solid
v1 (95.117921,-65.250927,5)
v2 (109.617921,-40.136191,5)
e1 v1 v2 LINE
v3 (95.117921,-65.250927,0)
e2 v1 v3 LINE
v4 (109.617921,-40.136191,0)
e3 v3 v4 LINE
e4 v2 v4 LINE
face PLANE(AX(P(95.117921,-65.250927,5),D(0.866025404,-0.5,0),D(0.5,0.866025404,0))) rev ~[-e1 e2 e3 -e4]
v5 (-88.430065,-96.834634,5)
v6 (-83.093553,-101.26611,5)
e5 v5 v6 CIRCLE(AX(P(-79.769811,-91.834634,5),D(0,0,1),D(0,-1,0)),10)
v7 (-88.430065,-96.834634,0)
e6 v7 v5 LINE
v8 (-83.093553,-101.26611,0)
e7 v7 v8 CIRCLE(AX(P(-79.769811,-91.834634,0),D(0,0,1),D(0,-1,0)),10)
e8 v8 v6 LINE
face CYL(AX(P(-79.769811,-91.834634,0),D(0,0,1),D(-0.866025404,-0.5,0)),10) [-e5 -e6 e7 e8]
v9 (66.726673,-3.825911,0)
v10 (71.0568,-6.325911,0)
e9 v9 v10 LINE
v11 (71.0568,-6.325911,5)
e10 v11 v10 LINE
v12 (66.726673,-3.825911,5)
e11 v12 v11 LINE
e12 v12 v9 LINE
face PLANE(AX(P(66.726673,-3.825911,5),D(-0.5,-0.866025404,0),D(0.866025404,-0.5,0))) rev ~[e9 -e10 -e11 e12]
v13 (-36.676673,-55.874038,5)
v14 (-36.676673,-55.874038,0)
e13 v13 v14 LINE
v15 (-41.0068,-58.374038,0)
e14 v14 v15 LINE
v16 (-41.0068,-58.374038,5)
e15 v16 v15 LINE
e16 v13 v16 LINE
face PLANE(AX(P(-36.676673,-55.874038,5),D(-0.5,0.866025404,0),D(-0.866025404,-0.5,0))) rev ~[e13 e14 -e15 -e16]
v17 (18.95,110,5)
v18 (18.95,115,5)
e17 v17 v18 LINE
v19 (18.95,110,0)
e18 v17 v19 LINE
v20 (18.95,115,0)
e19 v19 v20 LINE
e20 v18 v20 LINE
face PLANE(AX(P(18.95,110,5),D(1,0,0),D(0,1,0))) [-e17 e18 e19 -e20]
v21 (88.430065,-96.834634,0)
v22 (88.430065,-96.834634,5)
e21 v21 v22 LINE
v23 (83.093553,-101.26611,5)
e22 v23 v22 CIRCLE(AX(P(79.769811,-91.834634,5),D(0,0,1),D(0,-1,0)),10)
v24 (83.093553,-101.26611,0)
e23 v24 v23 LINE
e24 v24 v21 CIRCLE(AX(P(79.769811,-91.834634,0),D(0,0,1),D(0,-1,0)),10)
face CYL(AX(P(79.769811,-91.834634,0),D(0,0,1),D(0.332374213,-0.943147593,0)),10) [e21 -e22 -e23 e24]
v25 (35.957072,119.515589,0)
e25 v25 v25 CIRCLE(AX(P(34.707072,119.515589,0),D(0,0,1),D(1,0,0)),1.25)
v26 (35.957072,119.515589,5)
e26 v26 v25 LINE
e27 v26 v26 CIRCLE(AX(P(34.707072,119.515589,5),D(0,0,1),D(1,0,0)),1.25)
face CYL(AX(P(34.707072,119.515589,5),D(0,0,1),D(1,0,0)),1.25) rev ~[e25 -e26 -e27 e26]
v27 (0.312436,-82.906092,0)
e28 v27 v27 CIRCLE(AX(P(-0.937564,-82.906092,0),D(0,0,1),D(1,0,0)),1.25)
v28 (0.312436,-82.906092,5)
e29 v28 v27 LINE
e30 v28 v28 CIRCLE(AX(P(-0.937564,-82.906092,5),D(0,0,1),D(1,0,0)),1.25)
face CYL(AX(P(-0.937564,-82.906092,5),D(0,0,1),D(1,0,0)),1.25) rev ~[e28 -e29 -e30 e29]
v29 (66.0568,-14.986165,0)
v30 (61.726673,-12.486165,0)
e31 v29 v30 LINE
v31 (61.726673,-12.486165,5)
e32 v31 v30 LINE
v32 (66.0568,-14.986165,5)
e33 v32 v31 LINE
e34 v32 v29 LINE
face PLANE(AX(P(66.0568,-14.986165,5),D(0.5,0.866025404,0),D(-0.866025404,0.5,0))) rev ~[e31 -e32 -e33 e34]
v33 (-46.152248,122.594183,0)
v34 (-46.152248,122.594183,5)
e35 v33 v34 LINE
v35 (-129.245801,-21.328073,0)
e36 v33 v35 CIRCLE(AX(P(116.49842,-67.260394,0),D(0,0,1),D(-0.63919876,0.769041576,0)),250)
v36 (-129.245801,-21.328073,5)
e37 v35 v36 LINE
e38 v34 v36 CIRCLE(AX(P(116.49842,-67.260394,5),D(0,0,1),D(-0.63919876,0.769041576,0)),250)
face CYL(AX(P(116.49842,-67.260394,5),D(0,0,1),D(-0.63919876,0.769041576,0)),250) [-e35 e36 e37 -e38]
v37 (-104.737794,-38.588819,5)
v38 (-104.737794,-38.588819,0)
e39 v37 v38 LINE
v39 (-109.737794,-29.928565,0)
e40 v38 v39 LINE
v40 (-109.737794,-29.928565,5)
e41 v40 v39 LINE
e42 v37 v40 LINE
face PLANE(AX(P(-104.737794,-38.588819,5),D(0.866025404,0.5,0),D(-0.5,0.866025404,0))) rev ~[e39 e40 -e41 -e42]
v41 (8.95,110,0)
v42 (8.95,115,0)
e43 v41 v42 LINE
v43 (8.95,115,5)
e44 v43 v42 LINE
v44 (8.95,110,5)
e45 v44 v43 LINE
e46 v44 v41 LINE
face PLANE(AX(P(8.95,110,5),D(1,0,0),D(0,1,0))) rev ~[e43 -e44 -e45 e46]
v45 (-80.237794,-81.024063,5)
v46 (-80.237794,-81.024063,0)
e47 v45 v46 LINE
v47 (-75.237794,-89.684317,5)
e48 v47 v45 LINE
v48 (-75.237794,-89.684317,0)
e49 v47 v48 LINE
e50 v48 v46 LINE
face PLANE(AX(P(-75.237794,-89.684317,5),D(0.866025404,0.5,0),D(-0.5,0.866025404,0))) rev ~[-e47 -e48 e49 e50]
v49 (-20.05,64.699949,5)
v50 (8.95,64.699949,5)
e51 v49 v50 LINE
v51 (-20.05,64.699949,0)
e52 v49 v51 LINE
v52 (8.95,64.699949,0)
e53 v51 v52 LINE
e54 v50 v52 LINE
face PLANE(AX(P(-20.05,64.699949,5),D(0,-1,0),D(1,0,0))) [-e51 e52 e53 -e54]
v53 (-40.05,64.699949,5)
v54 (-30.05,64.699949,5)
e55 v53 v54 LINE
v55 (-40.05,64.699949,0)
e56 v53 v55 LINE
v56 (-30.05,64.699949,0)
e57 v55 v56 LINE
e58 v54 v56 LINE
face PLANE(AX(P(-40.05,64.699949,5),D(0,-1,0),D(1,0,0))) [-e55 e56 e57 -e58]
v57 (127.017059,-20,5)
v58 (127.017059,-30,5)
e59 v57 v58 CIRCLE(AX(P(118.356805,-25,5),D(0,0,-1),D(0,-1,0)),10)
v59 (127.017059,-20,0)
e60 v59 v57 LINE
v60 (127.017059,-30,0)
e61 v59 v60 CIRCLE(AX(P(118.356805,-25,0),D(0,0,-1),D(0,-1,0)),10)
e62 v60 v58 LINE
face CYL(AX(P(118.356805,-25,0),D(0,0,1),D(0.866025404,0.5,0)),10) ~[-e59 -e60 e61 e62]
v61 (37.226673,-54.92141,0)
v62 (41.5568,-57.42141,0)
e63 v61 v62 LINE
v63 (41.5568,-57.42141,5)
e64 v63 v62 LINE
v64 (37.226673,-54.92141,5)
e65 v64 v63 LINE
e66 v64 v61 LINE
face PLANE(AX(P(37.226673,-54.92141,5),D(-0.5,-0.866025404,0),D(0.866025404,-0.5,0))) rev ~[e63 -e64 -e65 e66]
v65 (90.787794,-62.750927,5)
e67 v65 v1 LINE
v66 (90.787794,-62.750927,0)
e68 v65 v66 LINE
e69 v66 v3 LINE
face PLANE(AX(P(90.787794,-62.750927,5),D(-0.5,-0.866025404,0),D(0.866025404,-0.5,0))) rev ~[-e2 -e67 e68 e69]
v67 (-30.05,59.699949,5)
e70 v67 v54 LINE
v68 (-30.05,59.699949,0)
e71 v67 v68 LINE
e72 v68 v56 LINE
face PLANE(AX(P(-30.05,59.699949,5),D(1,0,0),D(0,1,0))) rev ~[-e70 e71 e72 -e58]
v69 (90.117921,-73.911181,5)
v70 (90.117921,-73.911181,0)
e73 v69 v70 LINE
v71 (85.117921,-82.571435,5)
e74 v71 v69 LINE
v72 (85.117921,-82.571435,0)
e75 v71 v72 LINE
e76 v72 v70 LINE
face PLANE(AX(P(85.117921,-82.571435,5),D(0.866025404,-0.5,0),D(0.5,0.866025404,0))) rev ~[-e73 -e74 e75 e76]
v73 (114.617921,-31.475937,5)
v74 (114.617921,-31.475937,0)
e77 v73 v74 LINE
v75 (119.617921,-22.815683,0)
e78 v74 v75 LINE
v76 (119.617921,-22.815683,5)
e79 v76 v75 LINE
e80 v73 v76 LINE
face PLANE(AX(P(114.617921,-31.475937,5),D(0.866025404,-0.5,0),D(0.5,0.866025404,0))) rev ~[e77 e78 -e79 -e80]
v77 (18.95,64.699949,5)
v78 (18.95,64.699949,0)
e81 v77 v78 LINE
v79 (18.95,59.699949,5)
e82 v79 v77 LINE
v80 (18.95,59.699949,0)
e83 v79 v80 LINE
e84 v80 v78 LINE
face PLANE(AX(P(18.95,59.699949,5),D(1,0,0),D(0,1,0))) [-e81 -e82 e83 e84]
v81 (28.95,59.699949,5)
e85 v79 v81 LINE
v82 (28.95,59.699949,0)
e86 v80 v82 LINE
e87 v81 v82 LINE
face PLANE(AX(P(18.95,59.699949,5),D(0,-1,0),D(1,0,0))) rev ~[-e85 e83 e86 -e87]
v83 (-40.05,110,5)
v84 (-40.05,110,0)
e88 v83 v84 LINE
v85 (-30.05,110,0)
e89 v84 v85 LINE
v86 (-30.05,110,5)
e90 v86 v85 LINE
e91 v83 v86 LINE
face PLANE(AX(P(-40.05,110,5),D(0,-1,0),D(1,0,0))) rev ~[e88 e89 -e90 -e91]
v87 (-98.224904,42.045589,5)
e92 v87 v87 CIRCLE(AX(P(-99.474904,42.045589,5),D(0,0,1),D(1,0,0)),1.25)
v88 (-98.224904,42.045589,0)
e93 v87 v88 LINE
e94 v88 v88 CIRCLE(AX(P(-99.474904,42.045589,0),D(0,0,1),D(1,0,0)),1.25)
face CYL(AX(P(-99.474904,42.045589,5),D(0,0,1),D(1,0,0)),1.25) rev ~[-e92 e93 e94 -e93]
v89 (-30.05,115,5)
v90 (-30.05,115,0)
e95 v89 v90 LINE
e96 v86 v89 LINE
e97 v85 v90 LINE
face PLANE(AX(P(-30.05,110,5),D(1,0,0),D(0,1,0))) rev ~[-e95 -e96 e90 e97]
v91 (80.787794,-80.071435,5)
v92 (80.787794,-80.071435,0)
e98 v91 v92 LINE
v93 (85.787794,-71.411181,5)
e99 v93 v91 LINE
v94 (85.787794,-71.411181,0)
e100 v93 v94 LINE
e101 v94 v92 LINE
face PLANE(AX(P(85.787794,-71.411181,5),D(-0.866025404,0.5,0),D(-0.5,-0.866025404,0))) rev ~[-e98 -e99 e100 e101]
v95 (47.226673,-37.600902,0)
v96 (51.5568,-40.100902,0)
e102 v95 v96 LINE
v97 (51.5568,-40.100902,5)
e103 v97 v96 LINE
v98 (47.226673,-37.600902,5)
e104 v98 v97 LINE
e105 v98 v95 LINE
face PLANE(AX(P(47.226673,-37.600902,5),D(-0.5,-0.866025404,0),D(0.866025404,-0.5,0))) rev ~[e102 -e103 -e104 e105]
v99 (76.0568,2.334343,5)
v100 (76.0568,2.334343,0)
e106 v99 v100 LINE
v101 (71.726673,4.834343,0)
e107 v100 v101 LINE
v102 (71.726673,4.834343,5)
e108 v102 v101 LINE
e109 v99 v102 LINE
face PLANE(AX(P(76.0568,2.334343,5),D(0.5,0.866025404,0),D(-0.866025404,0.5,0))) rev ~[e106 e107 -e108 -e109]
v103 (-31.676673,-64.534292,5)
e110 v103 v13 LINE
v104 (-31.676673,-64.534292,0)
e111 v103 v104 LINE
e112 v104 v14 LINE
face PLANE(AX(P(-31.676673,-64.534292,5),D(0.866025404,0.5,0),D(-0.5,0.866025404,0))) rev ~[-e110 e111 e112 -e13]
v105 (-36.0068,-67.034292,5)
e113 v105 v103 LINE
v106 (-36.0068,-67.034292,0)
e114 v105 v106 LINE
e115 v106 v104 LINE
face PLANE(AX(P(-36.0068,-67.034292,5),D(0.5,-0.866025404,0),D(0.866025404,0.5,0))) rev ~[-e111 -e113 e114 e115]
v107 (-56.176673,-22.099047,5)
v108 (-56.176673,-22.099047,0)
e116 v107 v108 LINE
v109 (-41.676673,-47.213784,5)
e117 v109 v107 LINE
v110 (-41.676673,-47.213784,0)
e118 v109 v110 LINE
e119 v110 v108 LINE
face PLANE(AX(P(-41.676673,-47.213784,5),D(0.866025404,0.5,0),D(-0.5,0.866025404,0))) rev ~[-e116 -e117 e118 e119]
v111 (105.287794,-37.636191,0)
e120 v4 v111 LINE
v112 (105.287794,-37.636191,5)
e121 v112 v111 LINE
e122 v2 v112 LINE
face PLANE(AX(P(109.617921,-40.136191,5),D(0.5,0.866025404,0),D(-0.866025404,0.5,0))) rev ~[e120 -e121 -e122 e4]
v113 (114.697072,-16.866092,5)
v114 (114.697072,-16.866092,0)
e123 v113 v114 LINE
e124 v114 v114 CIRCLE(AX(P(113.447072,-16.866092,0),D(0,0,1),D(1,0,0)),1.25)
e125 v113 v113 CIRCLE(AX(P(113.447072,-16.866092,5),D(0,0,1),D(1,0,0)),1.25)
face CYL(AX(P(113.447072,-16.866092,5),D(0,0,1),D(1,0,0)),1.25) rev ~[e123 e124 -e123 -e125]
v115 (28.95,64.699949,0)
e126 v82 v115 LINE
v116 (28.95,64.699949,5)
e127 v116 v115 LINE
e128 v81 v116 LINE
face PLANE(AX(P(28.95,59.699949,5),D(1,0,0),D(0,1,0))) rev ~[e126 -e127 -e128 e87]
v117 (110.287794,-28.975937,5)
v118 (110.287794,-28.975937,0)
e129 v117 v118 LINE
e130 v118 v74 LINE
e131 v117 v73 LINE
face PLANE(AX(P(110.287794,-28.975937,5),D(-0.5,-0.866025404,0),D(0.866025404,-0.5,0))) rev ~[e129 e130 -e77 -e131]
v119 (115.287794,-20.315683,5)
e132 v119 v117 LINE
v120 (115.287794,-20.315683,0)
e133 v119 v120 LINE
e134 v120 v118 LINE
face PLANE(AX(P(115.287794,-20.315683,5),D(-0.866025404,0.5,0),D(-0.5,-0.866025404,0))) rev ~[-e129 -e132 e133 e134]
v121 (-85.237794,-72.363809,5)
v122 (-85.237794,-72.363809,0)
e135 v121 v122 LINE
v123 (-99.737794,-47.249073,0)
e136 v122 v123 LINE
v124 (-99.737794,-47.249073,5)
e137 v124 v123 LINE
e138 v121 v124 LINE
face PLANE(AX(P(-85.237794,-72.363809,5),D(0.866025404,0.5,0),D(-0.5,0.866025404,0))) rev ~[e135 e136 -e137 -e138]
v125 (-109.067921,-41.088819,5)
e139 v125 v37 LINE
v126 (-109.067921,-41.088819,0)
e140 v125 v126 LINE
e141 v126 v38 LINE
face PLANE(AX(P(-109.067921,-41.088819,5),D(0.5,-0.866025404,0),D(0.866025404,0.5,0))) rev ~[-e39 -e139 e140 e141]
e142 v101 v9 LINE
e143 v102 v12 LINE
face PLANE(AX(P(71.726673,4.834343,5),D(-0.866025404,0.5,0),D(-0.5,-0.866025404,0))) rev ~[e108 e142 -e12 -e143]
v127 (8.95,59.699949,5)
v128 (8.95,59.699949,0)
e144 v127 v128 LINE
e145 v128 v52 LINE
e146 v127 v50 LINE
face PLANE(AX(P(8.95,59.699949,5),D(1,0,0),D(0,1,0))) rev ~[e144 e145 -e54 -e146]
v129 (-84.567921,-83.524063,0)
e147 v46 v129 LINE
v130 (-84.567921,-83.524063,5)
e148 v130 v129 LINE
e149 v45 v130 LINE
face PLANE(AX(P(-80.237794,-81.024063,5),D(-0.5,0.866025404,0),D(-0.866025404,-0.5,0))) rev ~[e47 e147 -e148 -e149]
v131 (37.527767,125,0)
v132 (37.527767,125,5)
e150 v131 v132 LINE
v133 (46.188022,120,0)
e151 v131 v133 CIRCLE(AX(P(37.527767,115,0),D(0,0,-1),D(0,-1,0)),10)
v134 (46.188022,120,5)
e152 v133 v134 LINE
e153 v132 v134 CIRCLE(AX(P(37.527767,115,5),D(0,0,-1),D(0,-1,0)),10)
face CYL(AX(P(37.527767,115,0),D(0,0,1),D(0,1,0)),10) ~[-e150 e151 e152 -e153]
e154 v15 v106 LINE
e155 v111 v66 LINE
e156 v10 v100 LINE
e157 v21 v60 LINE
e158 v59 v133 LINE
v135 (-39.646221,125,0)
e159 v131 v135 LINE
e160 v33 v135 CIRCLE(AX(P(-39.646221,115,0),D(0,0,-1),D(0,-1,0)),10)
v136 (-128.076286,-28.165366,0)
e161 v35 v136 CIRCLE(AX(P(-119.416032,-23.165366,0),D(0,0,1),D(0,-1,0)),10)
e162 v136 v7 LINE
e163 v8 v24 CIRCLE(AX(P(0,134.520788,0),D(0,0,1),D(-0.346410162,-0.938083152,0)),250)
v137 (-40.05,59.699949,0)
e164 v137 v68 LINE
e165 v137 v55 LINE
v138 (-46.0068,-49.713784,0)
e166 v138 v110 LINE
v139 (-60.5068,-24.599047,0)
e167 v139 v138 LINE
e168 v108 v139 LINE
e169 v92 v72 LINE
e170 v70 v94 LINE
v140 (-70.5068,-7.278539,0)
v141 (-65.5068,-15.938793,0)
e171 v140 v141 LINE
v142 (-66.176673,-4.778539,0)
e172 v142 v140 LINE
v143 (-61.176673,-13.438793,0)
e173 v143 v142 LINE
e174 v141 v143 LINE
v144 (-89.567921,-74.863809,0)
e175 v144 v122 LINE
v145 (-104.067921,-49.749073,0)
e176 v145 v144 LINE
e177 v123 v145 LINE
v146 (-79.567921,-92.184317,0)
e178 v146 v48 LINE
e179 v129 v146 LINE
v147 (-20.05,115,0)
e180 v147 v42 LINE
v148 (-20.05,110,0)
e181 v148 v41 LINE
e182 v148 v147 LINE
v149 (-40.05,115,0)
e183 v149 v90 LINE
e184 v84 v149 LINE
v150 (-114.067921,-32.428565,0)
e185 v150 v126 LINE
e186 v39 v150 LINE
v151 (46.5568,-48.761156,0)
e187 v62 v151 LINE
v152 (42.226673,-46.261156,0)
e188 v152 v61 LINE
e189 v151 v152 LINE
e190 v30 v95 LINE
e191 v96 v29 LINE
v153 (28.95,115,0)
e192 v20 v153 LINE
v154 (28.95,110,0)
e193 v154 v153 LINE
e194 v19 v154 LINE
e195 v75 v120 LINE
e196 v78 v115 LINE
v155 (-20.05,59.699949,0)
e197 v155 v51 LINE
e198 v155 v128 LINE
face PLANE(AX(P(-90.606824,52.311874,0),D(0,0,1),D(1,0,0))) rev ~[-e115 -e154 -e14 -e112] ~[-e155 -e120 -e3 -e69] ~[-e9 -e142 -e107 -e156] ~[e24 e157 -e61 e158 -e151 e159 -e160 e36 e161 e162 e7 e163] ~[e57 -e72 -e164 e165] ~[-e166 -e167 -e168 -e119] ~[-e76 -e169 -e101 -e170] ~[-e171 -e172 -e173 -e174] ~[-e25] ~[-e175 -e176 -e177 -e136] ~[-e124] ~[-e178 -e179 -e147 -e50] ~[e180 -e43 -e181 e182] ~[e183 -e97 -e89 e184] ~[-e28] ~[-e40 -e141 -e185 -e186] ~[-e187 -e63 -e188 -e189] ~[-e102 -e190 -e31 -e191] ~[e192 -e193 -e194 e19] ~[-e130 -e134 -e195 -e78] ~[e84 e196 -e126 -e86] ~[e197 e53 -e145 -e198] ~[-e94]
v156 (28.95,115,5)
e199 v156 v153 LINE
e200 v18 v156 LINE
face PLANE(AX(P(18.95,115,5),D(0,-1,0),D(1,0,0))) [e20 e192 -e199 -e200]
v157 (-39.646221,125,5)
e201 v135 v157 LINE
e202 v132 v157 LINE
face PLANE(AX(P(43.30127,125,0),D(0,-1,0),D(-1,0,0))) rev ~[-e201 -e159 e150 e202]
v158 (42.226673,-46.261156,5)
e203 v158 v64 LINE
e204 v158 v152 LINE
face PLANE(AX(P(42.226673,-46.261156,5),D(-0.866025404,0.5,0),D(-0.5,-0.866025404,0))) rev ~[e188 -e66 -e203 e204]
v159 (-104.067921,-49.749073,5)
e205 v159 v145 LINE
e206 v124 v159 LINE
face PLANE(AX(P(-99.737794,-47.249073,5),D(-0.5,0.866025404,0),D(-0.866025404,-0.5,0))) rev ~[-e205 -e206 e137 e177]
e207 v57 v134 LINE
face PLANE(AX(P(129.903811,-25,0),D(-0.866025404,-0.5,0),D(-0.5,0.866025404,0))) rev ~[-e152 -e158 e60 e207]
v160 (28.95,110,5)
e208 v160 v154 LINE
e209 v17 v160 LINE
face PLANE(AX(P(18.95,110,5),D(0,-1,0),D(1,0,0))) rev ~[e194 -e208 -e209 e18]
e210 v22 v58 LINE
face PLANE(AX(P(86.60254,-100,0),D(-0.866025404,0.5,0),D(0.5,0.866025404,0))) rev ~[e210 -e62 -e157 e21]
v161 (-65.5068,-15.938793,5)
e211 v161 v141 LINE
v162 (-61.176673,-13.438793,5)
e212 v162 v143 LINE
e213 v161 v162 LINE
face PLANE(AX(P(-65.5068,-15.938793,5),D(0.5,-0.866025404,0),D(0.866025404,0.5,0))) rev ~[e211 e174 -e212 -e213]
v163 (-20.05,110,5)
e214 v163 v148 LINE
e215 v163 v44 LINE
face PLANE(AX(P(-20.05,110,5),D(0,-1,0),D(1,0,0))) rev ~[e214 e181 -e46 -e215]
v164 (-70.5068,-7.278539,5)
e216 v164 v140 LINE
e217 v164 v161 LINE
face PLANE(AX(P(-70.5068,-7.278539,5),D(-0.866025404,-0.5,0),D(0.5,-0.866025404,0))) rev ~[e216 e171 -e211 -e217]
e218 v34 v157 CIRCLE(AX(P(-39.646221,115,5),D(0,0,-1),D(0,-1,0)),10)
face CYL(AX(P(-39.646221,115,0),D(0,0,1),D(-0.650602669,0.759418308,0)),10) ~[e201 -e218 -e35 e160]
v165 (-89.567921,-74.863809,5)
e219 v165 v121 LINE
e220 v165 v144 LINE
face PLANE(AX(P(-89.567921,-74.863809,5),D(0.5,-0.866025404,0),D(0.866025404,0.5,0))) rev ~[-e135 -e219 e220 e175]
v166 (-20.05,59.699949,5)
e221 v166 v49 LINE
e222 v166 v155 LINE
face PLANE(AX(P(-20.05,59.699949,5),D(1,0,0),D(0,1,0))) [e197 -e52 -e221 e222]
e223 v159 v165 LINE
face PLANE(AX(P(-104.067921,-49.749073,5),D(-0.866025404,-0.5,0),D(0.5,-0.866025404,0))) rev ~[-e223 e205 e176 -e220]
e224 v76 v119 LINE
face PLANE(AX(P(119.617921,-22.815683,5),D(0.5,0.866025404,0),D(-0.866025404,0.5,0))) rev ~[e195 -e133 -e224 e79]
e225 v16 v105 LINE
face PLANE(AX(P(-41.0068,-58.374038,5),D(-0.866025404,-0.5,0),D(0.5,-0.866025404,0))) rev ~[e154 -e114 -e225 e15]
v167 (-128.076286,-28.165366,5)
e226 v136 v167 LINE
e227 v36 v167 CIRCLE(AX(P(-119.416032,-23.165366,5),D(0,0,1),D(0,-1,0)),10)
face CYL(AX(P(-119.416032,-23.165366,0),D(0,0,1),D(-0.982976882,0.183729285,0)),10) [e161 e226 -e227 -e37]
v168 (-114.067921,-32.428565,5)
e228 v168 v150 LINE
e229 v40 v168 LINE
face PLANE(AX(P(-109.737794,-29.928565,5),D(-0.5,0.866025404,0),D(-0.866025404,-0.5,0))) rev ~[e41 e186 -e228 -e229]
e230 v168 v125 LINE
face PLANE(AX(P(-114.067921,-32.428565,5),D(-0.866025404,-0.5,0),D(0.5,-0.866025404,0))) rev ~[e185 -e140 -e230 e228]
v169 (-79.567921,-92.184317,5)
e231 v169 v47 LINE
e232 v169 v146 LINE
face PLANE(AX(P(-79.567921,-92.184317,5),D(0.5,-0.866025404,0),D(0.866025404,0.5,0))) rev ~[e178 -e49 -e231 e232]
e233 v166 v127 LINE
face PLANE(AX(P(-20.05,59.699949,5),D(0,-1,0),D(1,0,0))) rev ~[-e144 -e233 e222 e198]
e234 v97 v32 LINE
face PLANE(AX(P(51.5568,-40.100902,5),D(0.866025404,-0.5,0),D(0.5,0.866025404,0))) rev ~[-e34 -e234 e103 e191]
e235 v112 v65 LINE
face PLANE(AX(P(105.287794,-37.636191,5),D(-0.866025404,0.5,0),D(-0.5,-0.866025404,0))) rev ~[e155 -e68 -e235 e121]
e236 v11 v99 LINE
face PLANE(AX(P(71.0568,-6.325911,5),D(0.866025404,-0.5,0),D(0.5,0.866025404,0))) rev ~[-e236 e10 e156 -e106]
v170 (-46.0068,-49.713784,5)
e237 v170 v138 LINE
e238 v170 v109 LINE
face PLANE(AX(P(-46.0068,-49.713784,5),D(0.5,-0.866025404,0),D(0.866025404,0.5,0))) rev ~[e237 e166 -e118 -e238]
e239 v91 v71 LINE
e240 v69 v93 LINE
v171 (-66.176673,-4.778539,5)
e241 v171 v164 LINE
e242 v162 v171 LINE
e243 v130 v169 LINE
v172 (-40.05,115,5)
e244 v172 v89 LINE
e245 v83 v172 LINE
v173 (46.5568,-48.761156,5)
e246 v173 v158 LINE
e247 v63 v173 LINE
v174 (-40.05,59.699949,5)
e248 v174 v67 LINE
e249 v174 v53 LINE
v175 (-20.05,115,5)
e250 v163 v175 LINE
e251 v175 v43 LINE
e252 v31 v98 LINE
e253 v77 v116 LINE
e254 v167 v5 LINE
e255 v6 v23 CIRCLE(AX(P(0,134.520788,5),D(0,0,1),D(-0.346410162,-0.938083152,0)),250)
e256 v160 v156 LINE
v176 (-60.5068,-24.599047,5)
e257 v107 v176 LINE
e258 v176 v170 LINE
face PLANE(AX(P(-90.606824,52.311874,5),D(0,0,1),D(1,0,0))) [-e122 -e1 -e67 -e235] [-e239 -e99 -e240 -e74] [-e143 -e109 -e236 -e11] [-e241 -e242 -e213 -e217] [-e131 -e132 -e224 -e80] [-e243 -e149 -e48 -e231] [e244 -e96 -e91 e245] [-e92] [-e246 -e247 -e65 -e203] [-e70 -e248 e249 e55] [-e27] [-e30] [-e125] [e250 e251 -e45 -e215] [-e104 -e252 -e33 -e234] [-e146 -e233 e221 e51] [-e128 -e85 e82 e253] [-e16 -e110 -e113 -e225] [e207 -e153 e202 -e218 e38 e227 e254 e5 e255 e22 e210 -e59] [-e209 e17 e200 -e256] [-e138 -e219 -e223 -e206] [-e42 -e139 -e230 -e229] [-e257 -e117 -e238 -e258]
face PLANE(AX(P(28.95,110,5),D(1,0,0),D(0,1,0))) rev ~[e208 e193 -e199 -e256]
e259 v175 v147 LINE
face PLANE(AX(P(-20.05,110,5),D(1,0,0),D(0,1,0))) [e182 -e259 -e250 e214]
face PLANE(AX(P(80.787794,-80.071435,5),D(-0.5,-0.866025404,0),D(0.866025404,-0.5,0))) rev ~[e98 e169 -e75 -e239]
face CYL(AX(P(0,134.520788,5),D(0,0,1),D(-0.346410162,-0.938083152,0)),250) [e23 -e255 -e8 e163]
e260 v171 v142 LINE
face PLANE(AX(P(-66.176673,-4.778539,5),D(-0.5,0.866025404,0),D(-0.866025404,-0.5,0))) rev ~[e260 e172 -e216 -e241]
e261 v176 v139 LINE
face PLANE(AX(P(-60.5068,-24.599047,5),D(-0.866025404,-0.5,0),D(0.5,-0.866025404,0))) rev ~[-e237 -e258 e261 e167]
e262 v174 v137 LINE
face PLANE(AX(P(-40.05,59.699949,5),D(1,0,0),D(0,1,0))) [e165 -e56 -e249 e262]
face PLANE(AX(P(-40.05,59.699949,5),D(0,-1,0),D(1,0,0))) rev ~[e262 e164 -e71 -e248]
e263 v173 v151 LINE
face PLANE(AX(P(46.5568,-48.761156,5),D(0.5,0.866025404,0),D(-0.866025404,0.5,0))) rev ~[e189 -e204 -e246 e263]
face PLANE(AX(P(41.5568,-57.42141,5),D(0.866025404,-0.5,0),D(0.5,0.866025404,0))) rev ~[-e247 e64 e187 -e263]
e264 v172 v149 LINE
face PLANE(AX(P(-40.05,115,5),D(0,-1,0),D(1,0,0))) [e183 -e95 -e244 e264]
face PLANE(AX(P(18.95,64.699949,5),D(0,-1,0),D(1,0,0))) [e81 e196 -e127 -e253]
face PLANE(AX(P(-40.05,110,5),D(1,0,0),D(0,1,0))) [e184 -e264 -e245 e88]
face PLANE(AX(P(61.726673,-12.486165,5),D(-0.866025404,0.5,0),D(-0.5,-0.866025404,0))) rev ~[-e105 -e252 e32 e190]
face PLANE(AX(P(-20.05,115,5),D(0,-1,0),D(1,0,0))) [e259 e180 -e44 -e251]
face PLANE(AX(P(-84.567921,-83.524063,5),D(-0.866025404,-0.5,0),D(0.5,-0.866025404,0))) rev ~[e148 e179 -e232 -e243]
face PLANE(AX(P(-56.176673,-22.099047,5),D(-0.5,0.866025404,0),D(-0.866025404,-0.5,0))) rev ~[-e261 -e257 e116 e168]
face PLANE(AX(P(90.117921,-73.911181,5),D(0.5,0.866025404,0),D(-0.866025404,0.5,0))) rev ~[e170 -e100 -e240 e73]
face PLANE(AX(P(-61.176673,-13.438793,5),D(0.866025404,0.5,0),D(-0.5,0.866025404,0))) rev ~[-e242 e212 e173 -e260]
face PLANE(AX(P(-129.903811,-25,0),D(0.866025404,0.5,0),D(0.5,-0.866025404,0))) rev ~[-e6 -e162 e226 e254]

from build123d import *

# Parameters (mm, degrees)
BOSS_EXTRUDE1_DEPTH = 5
BOSS_EXTRUDE2_DEPTH = 5
SKETCH4_W           = 10
SKETCH4_H           = 5
SKETCH4_W_2         = 29
CUT_EXTRUDE2_DEPTH  = 5
BOSS_EXTRUDE3_DEPTH = 5
SKETCH7_R           = 1.25
CUT_EXTRUDE4_DEPTH  = 5
FILLET2_R           = 10


with BuildPart() as part:
    # Sketch1 → Boss-Extrude1 (new body)
    with BuildSketch(Plane(origin=(0, 0, 0), x_dir=(0.8660254037844434, -0.49999999999999206, 0), z_dir=(0, 0, 1))):
        Polygon((125, -43.301270189), (125, 43.301270189), (-25, 129.903810568), (-100, 86.602540378), (-100, -86.602540378), (-25, -129.903810568), align=None)
    extrude(amount=BOSS_EXTRUDE1_DEPTH)

    # Sketch3 → Boss-Extrude2 (add)
    with BuildSketch(Plane.XY.offset(5)):
        Polygon((-86.602540378, -100), (86.602540378, -100), (129.903810568, -25), (43.301270189, 125), (-43.301270189, 125), (-129.903810568, -25), align=None)
    extrude(amount=-BOSS_EXTRUDE2_DEPTH)

    # Sketch4 → Cut-Extrude2 (cut)
    with BuildSketch(Plane.XY.offset(5)):
        with Locations((-35.05, 112.5)):
            Rectangle(SKETCH4_W, SKETCH4_H)
        with Locations((23.95, 112.5)):
            Rectangle(SKETCH4_W, SKETCH4_H)
        with Locations((-5.55, 112.5)):
            Rectangle(SKETCH4_W_2, SKETCH4_H)
        with Locations((-35.05, 62.1999492)):
            Rectangle(SKETCH4_W, SKETCH4_H)
        with Locations((23.95, 62.1999492)):
            Rectangle(SKETCH4_W, SKETCH4_H)
        with Locations((-5.55, 62.1999492)):
            Rectangle(SKETCH4_W_2, SKETCH4_H)
        Polygon((115.287794416, -20.315682578), (110.287794416, -28.975936616), (114.617921435, -31.475936616), (119.617921435, -22.815682578), align=None)
        Polygon((80.787794416, -80.07143544), (85.117921435, -82.57143544), (90.117921435, -73.911181402), (85.787794416, -71.411181402), align=None)
        Polygon((109.617921435, -40.136190654), (105.287794416, -37.636190654), (90.787794416, -62.750927364), (95.117921435, -65.250927364), align=None)
        Polygon((71.726672612, 4.834342822), (66.726672612, -3.825911216), (71.056799631, -6.325911216), (76.056799631, 2.334342822), align=None)
        Polygon((37.226672612, -54.92141004), (41.556799631, -57.42141004), (46.556799631, -48.761156002), (42.226672612, -46.261156002), align=None)
        Polygon((66.056799631, -14.986165254), (61.726672612, -12.486165254), (47.226672612, -37.600901964), (51.556799631, -40.100901964), align=None)
        Polygon((-75.237794416, -89.684317422), (-80.237794416, -81.024063384), (-84.567921435, -83.524063384), (-79.567921435, -92.184317422), align=None)
        Polygon((-109.737794416, -29.92856456), (-114.067921435, -32.42856456), (-109.067921435, -41.088818598), (-104.737794416, -38.588818598), align=None)
        Polygon((-89.567921435, -74.863809346), (-85.237794416, -72.363809346), (-99.737794416, -47.249072636), (-104.067921435, -49.749072636), align=None)
        Polygon((-31.676672612, -64.534292022), (-36.676672612, -55.874037984), (-41.006799631, -58.374037984), (-36.006799631, -67.034292022), align=None)
        Polygon((-66.176672612, -4.77853916), (-70.506799631, -7.27853916), (-65.506799631, -15.938793198), (-61.176672612, -13.438793198), align=None)
        Polygon((-46.006799631, -49.713783946), (-41.676672612, -47.213783946), (-56.176672612, -22.099047236), (-60.506799631, -24.599047236), align=None)
    extrude(amount=-CUT_EXTRUDE2_DEPTH, mode=Mode.SUBTRACT)

    # Sketch5 → Boss-Extrude3 (add)
    with BuildSketch(Plane.XY.offset(5)):
        with BuildLine():
            ThreePointArc((-43.301270189, 125), (-100.007931209, 57.739606004), (-129.903810568, -25))
            Line((-129.903810568, -25), (-43.301270189, 125))
        make_face()
        with BuildLine():
            ThreePointArc((-86.602540378, -100), (0, -115.479212009), (86.602540378, -100))
            Line((86.602540378, -100), (-86.602540378, -100))
        make_face()
    extrude(amount=-BOSS_EXTRUDE3_DEPTH)

    # Sketch7 → Cut-Extrude4 (cut)
    with BuildSketch(Plane.XY.offset(5)):
        with Locations((-99.474904421, 42.045588536)):
            Circle(SKETCH7_R)
        with Locations((34.707071641, 119.515588536)):
            Circle(SKETCH7_R)
        with Locations((113.447071641, -16.866092052)):
            Circle(SKETCH7_R)
        with Locations((-0.937563691, -82.906092052)):
            Circle(SKETCH7_R)
    extrude(amount=-CUT_EXTRUDE4_DEPTH, mode=Mode.SUBTRACT)

    # Fillet2
    fillet2_edges = [part.edges().sort_by_distance(p)[0] for p in [
        (-86.602540378, -100, 2.5),
        (-129.903810568, -25, 2.5),
        (-43.301270189, 125, 2.5),
        (43.301270189, 125, 2.5),
        (129.903810568, -25, 2.5),
        (86.602540378, -100, 2.5),
    ]]
    fillet(fillet2_edges, radius=FILLET2_R)


solid = part.part
